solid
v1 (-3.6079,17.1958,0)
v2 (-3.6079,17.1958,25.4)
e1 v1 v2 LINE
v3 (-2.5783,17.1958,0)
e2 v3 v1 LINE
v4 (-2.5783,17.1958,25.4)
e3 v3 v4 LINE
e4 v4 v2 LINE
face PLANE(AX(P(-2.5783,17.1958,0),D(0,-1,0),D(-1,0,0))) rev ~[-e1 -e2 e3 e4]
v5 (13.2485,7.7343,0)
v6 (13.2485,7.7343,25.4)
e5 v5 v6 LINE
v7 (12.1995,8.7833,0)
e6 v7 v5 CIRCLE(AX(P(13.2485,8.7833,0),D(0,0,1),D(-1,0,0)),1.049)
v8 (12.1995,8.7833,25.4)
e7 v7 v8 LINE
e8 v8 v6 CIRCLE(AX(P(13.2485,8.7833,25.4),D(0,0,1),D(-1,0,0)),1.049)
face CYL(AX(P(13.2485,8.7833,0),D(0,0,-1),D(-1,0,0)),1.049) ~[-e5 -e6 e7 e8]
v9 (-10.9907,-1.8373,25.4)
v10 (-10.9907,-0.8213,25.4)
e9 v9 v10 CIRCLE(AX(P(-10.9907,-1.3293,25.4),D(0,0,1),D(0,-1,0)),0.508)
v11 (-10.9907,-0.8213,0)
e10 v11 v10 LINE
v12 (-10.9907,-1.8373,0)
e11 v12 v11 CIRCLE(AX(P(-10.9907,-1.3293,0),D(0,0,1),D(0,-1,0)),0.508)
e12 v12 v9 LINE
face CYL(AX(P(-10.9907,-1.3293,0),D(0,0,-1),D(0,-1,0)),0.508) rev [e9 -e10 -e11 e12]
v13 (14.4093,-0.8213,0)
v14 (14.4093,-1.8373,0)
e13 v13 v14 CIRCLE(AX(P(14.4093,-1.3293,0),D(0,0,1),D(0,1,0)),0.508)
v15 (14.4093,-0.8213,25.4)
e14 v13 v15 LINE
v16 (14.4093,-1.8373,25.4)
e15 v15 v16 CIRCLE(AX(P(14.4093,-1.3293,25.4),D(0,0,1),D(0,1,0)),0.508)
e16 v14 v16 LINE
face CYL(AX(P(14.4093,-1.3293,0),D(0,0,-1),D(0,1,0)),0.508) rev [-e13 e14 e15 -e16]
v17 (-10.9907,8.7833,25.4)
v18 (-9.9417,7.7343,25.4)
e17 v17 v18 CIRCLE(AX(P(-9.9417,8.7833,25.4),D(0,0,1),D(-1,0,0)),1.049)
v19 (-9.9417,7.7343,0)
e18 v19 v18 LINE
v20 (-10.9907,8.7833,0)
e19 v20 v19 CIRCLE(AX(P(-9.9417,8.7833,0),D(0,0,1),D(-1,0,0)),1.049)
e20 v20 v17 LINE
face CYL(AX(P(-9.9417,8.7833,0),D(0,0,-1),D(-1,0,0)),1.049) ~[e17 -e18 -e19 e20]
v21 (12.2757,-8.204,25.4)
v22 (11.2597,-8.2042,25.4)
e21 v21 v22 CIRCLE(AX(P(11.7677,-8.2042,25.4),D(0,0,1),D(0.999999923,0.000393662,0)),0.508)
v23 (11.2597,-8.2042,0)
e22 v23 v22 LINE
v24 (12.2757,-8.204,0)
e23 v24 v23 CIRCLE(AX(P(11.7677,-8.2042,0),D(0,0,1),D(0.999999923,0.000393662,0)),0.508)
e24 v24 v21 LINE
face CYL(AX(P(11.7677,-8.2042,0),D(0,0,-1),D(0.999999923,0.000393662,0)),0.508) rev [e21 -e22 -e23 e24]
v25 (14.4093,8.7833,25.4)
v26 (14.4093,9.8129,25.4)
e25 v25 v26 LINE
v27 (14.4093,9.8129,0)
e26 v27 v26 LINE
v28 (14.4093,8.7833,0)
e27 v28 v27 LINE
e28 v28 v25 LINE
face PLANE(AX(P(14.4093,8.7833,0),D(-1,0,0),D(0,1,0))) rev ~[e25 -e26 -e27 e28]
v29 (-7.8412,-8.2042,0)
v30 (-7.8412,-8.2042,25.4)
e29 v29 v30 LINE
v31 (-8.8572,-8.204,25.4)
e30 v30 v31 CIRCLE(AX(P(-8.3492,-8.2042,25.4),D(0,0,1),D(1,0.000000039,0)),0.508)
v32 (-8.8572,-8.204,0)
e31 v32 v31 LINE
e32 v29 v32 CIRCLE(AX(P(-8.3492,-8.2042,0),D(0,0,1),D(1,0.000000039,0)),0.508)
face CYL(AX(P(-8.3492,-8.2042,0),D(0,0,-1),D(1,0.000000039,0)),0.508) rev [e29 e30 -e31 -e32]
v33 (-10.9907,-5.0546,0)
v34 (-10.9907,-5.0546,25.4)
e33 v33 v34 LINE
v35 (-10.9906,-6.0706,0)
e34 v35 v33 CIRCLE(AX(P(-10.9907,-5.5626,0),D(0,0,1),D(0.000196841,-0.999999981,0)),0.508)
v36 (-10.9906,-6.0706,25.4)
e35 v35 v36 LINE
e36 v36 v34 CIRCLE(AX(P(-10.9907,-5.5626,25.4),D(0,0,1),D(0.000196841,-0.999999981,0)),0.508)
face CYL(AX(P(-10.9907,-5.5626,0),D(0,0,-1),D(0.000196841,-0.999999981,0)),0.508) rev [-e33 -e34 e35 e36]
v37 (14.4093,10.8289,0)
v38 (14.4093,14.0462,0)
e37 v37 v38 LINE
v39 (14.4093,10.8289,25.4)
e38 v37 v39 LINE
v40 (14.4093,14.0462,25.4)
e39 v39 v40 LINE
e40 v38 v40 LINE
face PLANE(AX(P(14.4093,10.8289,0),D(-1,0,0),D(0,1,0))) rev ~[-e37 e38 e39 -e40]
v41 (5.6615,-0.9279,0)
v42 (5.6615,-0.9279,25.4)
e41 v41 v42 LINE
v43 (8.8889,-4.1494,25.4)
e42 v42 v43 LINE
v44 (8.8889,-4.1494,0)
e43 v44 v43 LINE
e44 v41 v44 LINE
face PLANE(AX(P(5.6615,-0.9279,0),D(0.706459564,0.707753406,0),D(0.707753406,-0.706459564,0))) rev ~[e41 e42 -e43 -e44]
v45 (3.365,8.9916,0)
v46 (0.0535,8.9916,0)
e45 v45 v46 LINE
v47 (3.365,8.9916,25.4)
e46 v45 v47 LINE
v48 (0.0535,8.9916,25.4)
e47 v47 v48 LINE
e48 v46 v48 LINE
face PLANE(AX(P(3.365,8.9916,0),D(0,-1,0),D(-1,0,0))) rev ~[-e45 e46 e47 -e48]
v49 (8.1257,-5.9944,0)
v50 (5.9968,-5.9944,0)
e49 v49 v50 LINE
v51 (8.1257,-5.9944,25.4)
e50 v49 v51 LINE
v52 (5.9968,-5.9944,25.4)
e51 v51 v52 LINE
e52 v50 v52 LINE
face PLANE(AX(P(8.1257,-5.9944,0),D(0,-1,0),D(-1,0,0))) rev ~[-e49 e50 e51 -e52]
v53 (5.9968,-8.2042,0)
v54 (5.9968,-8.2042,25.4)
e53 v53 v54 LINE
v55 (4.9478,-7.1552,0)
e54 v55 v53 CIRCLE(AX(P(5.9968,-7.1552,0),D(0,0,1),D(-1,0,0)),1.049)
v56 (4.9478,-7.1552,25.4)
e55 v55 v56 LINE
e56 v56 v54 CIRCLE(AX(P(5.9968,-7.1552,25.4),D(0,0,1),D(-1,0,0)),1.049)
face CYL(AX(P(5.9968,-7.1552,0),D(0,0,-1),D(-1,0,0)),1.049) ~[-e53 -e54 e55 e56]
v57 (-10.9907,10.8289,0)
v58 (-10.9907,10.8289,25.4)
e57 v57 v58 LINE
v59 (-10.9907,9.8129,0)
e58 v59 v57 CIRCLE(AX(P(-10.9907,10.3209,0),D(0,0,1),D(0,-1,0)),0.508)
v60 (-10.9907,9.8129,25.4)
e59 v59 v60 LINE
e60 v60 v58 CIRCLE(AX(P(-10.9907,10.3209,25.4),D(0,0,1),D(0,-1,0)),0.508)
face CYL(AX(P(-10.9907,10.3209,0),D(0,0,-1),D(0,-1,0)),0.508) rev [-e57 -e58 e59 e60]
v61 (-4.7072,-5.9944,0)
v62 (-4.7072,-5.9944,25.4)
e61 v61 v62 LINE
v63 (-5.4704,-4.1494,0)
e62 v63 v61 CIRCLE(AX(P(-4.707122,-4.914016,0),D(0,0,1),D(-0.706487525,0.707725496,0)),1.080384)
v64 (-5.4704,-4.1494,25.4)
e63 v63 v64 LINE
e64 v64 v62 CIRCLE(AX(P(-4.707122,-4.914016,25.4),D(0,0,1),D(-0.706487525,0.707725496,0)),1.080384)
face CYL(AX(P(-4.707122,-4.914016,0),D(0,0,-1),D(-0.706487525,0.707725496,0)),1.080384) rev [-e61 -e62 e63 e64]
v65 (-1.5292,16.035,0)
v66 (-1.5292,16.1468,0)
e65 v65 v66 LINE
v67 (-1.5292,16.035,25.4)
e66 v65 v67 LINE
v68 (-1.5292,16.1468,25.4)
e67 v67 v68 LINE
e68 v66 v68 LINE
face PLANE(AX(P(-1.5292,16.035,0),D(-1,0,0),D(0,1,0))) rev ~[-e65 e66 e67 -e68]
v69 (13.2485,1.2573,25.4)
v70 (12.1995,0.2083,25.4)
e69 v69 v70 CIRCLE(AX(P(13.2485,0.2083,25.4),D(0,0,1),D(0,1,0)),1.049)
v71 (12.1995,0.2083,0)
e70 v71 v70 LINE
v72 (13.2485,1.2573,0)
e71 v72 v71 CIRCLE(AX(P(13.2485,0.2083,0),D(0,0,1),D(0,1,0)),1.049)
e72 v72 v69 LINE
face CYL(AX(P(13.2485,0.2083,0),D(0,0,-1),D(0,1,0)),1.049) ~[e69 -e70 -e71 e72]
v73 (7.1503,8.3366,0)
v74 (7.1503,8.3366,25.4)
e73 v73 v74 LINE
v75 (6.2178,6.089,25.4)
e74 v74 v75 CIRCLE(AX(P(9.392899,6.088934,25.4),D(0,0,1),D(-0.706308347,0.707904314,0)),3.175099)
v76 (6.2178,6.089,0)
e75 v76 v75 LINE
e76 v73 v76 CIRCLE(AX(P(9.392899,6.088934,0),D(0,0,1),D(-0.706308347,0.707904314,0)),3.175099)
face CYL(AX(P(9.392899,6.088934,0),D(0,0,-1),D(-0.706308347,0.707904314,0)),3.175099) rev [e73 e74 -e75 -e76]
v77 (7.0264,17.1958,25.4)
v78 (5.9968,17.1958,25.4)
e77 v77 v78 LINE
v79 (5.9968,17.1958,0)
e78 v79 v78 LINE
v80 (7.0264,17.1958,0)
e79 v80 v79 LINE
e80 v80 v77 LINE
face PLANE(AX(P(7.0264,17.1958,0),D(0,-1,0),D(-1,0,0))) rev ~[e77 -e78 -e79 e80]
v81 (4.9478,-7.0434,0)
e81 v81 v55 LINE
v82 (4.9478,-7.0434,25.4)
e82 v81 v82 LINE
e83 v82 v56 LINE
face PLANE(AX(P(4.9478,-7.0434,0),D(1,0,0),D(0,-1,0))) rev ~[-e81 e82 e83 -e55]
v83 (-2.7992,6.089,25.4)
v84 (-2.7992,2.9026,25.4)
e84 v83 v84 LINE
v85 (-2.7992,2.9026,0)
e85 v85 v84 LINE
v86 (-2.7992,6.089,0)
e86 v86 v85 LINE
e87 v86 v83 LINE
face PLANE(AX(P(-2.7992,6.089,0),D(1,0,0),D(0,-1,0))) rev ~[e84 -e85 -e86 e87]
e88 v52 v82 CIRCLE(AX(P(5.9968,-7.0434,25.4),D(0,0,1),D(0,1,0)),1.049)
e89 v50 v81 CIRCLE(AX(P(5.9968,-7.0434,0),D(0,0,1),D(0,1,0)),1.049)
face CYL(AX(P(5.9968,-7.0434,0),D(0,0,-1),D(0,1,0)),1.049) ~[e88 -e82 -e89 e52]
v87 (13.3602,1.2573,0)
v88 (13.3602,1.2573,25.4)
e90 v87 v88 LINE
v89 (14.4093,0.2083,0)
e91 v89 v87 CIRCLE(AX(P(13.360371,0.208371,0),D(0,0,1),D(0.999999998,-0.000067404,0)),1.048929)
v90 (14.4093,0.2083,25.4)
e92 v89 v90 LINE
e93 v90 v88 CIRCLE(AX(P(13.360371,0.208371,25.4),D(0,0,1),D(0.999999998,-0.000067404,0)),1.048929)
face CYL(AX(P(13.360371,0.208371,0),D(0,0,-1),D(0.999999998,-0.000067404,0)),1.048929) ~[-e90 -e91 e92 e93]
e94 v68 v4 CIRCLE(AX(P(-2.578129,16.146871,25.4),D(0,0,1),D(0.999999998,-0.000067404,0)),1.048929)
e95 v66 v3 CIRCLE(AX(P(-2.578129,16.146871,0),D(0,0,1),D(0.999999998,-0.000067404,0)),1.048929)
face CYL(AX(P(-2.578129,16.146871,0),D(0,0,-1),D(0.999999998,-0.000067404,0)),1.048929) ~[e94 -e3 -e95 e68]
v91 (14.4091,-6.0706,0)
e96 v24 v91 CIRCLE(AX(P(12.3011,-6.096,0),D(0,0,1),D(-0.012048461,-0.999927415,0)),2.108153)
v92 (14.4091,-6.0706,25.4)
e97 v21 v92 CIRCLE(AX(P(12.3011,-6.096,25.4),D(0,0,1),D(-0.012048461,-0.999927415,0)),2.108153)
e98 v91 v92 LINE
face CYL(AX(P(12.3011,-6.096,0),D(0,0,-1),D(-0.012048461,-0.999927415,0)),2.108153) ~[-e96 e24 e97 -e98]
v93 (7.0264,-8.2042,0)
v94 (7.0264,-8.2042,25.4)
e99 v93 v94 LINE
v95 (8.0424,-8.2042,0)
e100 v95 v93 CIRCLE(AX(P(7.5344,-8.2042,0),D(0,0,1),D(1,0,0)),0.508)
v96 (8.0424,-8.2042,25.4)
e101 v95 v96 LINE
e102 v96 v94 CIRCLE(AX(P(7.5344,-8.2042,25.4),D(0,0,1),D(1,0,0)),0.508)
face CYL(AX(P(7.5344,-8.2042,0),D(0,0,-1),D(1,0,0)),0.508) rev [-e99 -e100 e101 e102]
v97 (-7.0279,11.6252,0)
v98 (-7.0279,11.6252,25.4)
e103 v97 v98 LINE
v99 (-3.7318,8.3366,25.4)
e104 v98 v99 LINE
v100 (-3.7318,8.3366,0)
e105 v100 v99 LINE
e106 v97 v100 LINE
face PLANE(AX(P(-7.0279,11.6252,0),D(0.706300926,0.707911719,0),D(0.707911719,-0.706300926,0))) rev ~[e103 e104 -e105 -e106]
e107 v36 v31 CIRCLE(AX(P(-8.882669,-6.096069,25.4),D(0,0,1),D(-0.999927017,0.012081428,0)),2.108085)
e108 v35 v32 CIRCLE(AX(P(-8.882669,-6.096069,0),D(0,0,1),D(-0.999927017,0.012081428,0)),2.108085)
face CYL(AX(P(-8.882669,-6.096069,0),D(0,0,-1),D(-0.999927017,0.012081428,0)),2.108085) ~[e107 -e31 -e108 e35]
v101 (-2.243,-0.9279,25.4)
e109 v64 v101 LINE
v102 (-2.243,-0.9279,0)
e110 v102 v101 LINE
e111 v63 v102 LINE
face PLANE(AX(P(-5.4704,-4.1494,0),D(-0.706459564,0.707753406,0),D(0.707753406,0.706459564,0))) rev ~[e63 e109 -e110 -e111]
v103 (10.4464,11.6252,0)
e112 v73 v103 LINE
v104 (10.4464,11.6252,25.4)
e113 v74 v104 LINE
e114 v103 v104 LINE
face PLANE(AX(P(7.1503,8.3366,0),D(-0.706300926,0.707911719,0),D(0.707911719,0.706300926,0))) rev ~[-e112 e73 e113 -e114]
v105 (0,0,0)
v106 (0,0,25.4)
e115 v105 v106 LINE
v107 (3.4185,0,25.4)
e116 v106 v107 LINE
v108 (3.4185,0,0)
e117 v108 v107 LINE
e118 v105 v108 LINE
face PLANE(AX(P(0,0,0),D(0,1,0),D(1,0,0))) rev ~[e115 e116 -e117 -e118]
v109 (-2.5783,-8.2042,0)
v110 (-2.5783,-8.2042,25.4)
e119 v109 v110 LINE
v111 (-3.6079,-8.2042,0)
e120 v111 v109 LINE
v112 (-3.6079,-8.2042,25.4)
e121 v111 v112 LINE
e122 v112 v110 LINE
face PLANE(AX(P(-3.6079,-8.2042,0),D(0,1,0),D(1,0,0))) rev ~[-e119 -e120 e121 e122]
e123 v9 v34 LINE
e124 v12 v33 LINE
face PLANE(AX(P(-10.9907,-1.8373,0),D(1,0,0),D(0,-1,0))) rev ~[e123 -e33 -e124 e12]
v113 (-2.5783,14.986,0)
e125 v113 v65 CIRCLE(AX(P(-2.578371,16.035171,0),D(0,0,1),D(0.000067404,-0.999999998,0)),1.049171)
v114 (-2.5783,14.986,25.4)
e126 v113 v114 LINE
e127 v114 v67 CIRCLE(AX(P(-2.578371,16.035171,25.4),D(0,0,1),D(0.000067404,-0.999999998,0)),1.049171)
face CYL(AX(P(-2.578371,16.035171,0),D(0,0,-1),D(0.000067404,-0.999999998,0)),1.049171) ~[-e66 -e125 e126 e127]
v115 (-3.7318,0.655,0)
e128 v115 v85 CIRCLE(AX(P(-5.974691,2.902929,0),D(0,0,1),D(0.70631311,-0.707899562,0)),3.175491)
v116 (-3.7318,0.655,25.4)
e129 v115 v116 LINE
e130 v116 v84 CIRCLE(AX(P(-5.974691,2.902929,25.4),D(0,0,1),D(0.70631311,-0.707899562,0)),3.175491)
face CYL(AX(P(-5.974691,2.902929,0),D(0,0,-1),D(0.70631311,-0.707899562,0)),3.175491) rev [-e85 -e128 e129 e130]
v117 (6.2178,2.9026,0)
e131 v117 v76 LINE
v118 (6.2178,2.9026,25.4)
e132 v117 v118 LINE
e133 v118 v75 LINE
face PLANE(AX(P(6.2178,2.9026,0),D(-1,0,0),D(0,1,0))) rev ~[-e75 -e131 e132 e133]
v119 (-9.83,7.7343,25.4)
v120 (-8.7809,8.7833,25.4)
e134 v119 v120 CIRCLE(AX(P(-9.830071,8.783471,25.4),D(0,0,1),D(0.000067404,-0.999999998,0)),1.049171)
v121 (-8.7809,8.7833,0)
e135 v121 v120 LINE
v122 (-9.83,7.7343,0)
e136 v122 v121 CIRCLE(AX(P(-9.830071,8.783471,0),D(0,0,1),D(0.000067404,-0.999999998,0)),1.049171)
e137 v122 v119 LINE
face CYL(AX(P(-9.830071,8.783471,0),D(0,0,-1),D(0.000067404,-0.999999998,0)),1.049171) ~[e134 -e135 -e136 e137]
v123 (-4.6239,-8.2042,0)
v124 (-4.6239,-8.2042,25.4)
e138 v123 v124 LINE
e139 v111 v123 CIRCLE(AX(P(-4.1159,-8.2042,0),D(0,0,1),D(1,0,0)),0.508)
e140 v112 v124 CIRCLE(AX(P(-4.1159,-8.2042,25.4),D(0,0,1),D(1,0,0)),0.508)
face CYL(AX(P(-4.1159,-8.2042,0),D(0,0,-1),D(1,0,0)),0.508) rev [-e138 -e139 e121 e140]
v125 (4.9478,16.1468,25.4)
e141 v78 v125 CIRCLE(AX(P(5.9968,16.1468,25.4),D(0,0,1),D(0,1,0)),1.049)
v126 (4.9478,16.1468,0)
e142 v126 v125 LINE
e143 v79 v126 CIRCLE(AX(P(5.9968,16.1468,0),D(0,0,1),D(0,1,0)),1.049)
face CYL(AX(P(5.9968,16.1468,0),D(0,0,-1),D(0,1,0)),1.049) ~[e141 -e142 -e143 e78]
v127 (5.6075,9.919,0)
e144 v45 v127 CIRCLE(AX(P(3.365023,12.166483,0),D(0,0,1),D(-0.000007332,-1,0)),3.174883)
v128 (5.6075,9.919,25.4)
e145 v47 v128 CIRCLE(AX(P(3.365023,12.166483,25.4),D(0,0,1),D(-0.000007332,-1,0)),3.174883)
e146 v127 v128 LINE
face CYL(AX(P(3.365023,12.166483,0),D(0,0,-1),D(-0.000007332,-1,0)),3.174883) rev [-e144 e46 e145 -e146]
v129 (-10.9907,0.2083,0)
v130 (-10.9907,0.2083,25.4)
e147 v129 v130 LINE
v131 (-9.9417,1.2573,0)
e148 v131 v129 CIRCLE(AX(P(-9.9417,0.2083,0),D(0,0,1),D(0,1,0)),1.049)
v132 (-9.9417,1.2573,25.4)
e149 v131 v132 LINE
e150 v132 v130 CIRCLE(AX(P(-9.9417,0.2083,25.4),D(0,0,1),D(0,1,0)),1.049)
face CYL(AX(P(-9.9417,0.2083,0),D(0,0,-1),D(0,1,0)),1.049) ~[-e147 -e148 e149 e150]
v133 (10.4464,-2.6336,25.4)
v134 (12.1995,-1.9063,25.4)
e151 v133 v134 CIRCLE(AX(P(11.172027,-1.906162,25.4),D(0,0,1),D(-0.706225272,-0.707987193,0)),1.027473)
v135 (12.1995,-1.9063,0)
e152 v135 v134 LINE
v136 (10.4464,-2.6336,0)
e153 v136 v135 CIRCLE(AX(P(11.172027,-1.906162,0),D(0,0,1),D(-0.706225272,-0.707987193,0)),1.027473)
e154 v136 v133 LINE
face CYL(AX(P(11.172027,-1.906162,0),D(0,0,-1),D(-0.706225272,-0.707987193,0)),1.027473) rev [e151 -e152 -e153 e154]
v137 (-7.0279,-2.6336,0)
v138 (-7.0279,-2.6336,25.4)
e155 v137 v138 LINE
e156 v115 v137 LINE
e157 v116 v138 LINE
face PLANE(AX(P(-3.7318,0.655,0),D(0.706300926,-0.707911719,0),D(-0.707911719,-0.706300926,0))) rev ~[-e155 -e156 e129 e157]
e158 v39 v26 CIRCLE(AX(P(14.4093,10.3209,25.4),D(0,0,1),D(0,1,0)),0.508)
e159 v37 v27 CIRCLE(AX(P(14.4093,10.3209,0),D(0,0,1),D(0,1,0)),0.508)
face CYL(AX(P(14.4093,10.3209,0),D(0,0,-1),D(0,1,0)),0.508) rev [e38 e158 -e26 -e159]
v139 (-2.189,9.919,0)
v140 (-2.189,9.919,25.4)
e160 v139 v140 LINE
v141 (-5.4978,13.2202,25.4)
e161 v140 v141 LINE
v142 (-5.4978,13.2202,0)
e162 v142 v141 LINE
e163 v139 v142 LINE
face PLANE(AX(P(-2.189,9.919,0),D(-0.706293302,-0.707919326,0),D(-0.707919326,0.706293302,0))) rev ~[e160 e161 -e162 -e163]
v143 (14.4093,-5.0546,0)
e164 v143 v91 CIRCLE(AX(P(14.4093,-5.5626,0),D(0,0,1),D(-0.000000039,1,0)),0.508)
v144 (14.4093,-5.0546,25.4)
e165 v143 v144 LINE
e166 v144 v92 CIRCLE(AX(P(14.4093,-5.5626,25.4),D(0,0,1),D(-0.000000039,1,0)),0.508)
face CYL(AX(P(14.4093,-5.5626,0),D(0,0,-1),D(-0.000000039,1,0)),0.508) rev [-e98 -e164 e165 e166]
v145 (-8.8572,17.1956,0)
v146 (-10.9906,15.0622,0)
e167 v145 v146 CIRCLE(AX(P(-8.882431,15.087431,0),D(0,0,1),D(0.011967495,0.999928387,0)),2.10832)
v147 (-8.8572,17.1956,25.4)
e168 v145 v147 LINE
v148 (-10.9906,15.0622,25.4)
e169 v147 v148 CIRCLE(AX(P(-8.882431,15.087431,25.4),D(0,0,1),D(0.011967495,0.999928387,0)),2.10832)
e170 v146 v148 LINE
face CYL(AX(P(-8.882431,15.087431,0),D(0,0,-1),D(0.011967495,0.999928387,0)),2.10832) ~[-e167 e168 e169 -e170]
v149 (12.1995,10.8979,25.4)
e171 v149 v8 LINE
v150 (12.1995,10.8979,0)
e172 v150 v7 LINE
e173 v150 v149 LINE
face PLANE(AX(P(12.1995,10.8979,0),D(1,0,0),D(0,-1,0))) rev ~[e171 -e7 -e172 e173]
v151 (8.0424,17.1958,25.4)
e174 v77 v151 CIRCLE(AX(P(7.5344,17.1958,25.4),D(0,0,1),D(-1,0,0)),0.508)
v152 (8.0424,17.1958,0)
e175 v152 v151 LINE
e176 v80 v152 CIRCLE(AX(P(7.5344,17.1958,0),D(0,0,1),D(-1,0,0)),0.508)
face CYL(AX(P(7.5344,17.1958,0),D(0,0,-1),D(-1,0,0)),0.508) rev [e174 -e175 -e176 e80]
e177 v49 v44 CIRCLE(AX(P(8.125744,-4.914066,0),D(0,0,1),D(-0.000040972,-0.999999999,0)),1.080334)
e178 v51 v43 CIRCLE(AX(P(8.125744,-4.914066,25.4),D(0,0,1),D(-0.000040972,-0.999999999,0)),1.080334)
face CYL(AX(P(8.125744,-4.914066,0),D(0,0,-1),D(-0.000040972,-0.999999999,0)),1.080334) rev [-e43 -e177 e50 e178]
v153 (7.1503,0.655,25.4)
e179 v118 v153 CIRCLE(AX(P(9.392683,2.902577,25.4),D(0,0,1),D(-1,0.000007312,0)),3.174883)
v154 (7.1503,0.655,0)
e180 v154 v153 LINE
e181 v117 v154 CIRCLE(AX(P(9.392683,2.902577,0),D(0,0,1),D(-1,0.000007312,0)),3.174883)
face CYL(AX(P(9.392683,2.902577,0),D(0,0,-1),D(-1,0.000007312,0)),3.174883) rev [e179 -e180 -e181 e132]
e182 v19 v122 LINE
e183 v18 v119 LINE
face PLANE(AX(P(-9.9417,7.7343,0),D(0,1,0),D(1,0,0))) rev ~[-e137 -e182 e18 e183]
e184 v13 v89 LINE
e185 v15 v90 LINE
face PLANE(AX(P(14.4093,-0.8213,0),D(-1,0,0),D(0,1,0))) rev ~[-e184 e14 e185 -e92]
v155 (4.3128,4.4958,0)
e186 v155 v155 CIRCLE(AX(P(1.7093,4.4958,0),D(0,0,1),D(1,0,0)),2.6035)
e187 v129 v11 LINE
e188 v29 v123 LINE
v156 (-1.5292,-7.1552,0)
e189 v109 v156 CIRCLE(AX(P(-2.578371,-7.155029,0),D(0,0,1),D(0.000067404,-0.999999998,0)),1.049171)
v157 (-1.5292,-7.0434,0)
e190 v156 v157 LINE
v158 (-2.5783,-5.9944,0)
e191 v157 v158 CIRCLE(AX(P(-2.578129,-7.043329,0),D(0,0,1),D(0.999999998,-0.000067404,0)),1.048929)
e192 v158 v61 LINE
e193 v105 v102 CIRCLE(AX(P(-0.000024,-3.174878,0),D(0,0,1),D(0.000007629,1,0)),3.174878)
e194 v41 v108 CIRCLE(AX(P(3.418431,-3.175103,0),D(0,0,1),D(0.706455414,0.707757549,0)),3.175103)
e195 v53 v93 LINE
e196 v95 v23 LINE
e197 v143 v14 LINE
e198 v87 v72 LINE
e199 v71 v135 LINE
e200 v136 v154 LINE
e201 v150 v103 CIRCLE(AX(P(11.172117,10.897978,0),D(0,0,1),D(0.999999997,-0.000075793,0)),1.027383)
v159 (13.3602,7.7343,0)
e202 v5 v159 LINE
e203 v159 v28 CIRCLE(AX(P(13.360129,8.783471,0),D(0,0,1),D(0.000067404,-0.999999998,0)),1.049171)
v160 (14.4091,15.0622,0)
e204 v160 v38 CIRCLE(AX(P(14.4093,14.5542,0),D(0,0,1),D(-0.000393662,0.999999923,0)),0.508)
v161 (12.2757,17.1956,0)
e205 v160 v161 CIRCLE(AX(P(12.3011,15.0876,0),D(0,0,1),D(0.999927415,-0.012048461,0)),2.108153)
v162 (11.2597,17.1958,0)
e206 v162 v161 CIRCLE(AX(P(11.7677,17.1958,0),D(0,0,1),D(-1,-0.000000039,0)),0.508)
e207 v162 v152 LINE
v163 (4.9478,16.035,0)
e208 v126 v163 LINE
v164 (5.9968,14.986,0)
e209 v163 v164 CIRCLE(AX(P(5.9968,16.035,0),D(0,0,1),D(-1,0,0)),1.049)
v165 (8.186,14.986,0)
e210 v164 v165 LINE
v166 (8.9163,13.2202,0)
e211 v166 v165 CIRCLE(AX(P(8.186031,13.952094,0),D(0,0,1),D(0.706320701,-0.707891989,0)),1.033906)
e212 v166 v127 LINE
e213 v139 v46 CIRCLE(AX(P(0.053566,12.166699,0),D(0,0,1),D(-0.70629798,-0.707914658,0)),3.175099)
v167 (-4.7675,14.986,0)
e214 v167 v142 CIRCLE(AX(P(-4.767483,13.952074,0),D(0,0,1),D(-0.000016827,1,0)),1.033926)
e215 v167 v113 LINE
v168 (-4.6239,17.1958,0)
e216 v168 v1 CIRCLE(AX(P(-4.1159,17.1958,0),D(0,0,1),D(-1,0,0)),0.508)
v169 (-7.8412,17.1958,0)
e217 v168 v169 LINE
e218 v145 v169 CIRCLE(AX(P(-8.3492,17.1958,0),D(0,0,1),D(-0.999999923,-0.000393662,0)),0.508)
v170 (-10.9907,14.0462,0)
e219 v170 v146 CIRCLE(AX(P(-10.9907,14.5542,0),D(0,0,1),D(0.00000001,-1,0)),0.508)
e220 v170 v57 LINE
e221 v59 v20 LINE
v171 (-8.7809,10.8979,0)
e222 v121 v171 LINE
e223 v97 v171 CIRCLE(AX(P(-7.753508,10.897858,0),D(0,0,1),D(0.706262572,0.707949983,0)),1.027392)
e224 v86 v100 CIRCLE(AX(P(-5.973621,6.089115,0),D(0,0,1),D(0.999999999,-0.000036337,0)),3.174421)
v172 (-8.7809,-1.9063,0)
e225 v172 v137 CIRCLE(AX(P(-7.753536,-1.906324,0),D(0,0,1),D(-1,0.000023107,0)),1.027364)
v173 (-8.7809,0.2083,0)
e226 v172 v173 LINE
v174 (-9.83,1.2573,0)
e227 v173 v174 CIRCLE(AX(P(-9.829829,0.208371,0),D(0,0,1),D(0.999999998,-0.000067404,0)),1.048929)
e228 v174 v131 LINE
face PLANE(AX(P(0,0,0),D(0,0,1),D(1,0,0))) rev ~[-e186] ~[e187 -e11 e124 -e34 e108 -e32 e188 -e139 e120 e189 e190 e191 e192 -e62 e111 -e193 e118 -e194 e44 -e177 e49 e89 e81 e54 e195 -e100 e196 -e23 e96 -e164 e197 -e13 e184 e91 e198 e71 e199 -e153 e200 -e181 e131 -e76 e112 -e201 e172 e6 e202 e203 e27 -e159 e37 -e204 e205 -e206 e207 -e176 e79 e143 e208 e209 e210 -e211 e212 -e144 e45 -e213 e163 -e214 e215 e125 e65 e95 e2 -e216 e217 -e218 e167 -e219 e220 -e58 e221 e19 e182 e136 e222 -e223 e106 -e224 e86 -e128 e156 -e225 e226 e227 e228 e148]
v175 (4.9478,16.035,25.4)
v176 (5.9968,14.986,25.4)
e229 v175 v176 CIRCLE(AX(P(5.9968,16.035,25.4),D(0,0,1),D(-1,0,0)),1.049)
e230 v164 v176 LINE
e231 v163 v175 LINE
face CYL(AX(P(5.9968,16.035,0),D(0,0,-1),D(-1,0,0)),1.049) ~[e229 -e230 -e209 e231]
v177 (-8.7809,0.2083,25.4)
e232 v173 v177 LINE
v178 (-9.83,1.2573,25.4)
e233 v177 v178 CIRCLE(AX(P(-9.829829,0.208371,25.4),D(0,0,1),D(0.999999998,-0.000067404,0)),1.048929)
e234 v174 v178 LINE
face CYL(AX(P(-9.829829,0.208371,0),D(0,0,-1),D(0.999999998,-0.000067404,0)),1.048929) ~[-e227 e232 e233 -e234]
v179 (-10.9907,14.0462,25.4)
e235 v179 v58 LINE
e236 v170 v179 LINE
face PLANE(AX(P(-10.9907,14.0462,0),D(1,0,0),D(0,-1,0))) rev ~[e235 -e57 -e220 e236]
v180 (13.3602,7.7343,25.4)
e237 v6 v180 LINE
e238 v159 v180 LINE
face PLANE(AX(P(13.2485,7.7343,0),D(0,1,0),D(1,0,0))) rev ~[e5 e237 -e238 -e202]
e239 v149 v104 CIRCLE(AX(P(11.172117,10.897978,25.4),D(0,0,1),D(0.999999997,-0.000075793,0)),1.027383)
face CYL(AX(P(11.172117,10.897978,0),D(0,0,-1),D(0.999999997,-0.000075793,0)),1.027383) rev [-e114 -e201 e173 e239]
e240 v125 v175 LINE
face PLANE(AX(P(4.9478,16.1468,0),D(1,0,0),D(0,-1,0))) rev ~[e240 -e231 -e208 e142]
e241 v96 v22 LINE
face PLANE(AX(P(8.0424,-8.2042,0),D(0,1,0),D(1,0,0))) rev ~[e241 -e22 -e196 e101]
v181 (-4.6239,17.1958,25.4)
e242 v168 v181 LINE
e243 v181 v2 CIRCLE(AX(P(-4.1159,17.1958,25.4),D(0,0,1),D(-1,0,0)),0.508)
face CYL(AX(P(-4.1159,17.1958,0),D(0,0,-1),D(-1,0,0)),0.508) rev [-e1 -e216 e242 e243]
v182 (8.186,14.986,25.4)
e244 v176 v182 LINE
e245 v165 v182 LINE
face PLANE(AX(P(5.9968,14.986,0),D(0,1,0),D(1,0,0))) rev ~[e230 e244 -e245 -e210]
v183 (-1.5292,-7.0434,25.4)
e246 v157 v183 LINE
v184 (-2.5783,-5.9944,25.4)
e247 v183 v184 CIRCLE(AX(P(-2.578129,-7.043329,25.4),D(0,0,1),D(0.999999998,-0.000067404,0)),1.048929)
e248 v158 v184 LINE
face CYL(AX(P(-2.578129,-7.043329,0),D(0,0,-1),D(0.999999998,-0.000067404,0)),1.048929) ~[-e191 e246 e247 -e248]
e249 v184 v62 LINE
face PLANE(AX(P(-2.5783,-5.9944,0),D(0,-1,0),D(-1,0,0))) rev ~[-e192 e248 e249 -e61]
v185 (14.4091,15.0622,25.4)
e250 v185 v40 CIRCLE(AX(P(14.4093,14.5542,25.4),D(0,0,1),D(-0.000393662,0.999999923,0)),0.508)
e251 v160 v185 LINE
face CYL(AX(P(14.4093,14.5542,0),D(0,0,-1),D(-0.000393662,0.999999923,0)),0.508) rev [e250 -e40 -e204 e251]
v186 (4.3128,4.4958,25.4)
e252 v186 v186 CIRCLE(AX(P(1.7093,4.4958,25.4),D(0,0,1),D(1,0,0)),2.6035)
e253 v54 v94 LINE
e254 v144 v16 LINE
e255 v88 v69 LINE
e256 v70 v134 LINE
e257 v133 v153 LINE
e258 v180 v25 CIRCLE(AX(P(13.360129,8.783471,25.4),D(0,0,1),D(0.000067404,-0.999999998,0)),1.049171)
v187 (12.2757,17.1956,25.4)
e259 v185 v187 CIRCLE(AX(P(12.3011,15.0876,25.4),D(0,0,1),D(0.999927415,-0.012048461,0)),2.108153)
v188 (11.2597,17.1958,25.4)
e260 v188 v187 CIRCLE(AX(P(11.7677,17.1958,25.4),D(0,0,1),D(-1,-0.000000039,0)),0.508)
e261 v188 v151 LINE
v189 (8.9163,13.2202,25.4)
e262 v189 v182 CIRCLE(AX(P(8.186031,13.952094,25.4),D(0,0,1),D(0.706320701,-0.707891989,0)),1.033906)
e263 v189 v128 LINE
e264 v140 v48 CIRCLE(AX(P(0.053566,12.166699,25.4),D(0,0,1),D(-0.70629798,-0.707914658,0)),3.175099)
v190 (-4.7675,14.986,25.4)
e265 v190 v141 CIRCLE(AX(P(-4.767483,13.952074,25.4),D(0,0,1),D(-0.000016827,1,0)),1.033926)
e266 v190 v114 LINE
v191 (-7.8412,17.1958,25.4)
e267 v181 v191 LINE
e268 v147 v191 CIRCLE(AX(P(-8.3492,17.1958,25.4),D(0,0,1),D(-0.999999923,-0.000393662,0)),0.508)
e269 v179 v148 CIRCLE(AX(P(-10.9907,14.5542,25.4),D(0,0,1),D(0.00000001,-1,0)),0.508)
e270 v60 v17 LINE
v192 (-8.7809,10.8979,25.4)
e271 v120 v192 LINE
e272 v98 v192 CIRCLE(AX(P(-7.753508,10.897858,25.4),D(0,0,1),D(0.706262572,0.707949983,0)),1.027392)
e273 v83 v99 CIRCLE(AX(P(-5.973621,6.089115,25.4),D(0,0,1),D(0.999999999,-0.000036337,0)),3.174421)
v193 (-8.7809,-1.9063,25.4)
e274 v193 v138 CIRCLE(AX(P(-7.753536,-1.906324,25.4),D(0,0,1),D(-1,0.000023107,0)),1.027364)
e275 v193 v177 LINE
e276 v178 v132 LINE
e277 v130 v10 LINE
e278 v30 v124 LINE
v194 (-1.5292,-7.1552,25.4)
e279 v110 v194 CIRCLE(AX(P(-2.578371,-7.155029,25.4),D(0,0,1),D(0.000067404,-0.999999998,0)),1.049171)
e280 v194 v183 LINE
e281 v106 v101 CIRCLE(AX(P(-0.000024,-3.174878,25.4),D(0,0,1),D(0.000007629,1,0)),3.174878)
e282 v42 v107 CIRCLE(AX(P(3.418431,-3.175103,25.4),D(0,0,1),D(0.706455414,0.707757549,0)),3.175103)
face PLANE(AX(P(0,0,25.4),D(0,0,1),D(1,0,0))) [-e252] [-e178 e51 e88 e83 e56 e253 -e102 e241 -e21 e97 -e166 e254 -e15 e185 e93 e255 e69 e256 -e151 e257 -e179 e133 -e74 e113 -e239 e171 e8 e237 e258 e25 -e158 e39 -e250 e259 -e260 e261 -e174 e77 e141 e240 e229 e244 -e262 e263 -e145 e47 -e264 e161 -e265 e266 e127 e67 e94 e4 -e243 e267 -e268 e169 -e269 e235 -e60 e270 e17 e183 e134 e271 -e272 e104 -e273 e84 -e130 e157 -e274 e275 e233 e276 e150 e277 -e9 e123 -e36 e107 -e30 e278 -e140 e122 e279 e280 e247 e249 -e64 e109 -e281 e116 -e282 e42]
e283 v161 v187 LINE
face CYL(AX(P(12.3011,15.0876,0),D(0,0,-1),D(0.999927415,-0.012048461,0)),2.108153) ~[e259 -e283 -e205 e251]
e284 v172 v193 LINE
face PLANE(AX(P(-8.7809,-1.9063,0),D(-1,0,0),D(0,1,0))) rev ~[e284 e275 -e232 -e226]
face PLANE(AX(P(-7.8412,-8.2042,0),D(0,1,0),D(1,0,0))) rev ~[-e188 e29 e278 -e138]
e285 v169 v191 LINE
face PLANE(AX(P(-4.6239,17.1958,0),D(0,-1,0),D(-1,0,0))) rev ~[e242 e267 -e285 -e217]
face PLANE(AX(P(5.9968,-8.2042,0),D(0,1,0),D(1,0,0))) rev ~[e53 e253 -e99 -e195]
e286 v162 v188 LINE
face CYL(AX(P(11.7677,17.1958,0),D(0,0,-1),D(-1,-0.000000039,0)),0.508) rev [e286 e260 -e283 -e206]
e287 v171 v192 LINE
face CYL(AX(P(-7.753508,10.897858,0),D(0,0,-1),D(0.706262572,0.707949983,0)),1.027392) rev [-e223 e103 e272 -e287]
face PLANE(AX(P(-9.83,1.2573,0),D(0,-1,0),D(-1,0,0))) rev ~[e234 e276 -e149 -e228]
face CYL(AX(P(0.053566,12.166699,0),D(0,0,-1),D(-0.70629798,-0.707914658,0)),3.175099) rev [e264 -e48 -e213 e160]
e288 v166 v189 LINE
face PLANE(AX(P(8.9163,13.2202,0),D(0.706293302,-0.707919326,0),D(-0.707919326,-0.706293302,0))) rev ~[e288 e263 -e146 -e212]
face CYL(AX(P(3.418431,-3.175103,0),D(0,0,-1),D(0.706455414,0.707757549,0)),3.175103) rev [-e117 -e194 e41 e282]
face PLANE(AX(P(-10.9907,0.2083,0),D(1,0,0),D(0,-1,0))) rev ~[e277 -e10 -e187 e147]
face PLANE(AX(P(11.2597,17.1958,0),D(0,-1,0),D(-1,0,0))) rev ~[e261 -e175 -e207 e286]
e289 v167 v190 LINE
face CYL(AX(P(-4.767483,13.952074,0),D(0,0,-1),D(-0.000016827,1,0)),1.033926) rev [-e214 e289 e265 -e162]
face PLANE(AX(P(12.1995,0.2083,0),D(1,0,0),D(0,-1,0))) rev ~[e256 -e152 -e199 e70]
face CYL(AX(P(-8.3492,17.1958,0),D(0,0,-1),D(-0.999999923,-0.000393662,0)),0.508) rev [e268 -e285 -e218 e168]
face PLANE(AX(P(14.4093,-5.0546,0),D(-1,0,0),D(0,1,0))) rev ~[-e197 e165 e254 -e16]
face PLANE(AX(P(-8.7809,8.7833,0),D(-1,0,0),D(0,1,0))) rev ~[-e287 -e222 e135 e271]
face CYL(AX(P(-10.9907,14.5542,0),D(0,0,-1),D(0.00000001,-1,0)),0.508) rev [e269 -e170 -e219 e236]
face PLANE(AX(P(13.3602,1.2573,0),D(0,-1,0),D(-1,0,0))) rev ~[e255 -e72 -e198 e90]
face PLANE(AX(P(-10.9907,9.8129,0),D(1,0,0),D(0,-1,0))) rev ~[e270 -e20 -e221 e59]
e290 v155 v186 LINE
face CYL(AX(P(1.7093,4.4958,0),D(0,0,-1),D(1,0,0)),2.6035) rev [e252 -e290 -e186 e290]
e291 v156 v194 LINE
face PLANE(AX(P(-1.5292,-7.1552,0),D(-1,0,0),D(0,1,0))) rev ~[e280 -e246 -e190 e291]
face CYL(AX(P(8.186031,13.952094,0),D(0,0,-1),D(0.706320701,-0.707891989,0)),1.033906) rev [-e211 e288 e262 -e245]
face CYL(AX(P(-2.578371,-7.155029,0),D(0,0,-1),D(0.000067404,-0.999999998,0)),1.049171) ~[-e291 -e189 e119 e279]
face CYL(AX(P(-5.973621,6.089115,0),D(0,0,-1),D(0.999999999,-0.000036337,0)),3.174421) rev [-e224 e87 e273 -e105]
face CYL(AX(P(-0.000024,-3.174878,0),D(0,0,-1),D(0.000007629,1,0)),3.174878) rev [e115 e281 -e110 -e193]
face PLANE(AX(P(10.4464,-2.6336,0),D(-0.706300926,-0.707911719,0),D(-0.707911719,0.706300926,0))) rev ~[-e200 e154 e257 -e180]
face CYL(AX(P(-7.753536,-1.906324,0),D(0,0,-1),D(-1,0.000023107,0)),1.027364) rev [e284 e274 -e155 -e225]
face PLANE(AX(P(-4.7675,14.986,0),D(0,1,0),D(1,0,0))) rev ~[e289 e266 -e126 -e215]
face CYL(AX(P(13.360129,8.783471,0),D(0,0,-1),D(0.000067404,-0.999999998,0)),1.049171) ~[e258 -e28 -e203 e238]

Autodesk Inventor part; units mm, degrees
ref_plane "YZ Plane" through (0, 0, 0) normal (1, 0, 0) x (0, 1, 0)
ref_plane "XZ Plane" through (0, 0, 0) normal (0, 1, 0) x (-1, 0, 0)
ref_plane "XY Plane" through (0, 0, 0) normal (0, 0, 1) x (1, 0, 0)
sketch "Sketch1" plane through (0, 0, 0) normal (0, 0, 1) x (1, 0, 0)
  arc A0 (-5.4704, -4.1494) -> (-4.7072, -5.9944) centre (-4.7072, -4.914) ccw
  line L0 (-5.4704, -4.1494) -> (-2.243, -0.9279)
  arc A1 (0, 0) -> (-2.243, -0.9279) centre (0, -3.175) ccw
  line L1 (0, 0) -> (3.4185, 0)
  arc A2 (5.6615, -0.9279) -> (3.4185, 0) centre (3.4185, -3.175) ccw
  line L2 (5.6615, -0.9279) -> (8.8889, -4.1494)
  arc A3 (8.1257, -5.9944) -> (8.8889, -4.1494) centre (8.1257, -4.914) ccw
  line L3 (8.1257, -5.9944) -> (5.9968, -5.9944)
  arc A4 (5.9968, -5.9944) -> (4.9478, -7.0434) centre (5.9968, -7.0434) ccw
  line L4 (4.9478, -7.0434) -> (4.9478, -7.1552)
  arc A5 (4.9478, -7.1552) -> (5.9968, -8.2042) centre (5.9968, -7.1552) ccw
  line L5 (5.9968, -8.2042) -> (7.0264, -8.2042)
  arc A6 (8.0424, -8.2042) -> (7.0264, -8.2042) centre (7.5344, -8.2042) ccw
  line L6 (8.0424, -8.2042) -> (11.2597, -8.2042)
  arc A7 (12.2757, -8.204) -> (11.2597, -8.2042) centre (11.7677, -8.2042) ccw
  arc A8 (12.2757, -8.204) -> (14.4091, -6.0706) centre (12.3011, -6.096) ccw
  arc A9 (14.4093, -5.0546) -> (14.4091, -6.0706) centre (14.4093, -5.5626) ccw
  line L7 (14.4093, -5.0546) -> (14.4093, -1.8373)
  arc A10 (14.4093, -0.8213) -> (14.4093, -1.8373) centre (14.4093, -1.3293) ccw
  line L8 (14.4093, -0.8213) -> (14.4093, 0.2083)
  arc A11 (14.4093, 0.2083) -> (13.3602, 1.2573) centre (13.3602, 0.2083) ccw
  line L9 (13.3602, 1.2573) -> (13.2485, 1.2573)
  arc A12 (13.2485, 1.2573) -> (12.1995, 0.2083) centre (13.2485, 0.2083) ccw
  line L10 (12.1995, 0.2083) -> (12.1995, -1.9063)
  arc A13 (10.4464, -2.6336) -> (12.1995, -1.9063) centre (11.172, -1.9063) ccw
  line L11 (10.4464, -2.6336) -> (7.1503, 0.655)
  arc A14 (6.2178, 2.9026) -> (7.1503, 0.655) centre (9.3928, 2.9026) ccw
  line L12 (6.2178, 2.9026) -> (6.2178, 6.089)
  arc A15 (7.1503, 8.3366) -> (6.2178, 6.089) centre (9.3928, 6.089) ccw
  line L13 (7.1503, 8.3366) -> (10.4464, 11.6252)
  arc A16 (12.1995, 10.8979) -> (10.4464, 11.6252) centre (11.172, 10.8979) ccw
  line L14 (12.1995, 10.8979) -> (12.1995, 8.7833)
  arc A17 (12.1995, 8.7833) -> (13.2485, 7.7343) centre (13.2485, 8.7833) ccw
  line L15 (13.2485, 7.7343) -> (13.3602, 7.7343)
  arc A18 (13.3602, 7.7343) -> (14.4093, 8.7833) centre (13.3602, 8.7833) ccw
  line L16 (14.4093, 8.7833) -> (14.4093, 9.8129)
  arc A19 (14.4093, 10.8289) -> (14.4093, 9.8129) centre (14.4093, 10.3209) ccw
  line L17 (14.4093, 10.8289) -> (14.4093, 14.0462)
  arc A20 (14.4091, 15.0622) -> (14.4093, 14.0462) centre (14.4093, 14.5542) ccw
  arc A21 (14.4091, 15.0622) -> (12.2757, 17.1956) centre (12.3011, 15.0876) ccw
  arc A22 (11.2597, 17.1958) -> (12.2757, 17.1956) centre (11.7677, 17.1958) ccw
  line L18 (11.2597, 17.1958) -> (8.0424, 17.1958)
  arc A23 (7.0264, 17.1958) -> (8.0424, 17.1958) centre (7.5344, 17.1958) ccw
  line L19 (7.0264, 17.1958) -> (5.9968, 17.1958)
  arc A24 (5.9968, 17.1958) -> (4.9478, 16.1468) centre (5.9968, 16.1468) ccw
  line L20 (4.9478, 16.1468) -> (4.9478, 16.035)
  arc A25 (4.9478, 16.035) -> (5.9968, 14.986) centre (5.9968, 16.035) ccw
  line L21 (5.9968, 14.986) -> (8.186, 14.986)
  arc A26 (8.9163, 13.2202) -> (8.186, 14.986) centre (8.186, 13.9521) ccw
  line L22 (8.9163, 13.2202) -> (5.6075, 9.919)
  arc A27 (3.365, 8.9916) -> (5.6075, 9.919) centre (3.365, 12.1666) ccw
  line L23 (3.365, 8.9916) -> (0.0535, 8.9916)
  arc A28 (-2.189, 9.919) -> (0.0535, 8.9916) centre (0.0535, 12.1666) ccw
  line L24 (-2.189, 9.919) -> (-5.4978, 13.2202)
  arc A29 (-4.7675, 14.986) -> (-5.4978, 13.2202) centre (-4.7675, 13.9521) ccw
  line L25 (-4.7675, 14.986) -> (-2.5783, 14.986)
  arc A30 (-2.5783, 14.986) -> (-1.5292, 16.035) centre (-2.5783, 16.035) ccw
  line L26 (-1.5292, 16.035) -> (-1.5292, 16.1468)
  arc A31 (-1.5292, 16.1468) -> (-2.5783, 17.1958) centre (-2.5783, 16.1468) ccw
  line L27 (-2.5783, 17.1958) -> (-3.6079, 17.1958)
  arc A32 (-4.6239, 17.1958) -> (-3.6079, 17.1958) centre (-4.1159, 17.1958) ccw
  line L28 (-4.6239, 17.1958) -> (-7.8412, 17.1958)
  arc A33 (-8.8572, 17.1956) -> (-7.8412, 17.1958) centre (-8.3492, 17.1958) ccw
  arc A34 (-8.8572, 17.1956) -> (-10.9906, 15.0622) centre (-8.8825, 15.0876) ccw
  arc A35 (-10.9907, 14.0462) -> (-10.9906, 15.0622) centre (-10.9907, 14.5542) ccw
  line L29 (-10.9907, 14.0462) -> (-10.9907, 10.8289)
  arc A36 (-10.9907, 9.8129) -> (-10.9907, 10.8289) centre (-10.9907, 10.3209) ccw
  line L30 (-10.9907, 9.8129) -> (-10.9907, 8.7833)
  arc A37 (-10.9907, 8.7833) -> (-9.9417, 7.7343) centre (-9.9417, 8.7833) ccw
  line L31 (-9.9417, 7.7343) -> (-9.83, 7.7343)
  arc A38 (-9.83, 7.7343) -> (-8.7809, 8.7833) centre (-9.83, 8.7833) ccw
  line L32 (-8.7809, 8.7833) -> (-8.7809, 10.8979)
  arc A39 (-7.0279, 11.6252) -> (-8.7809, 10.8979) centre (-7.7535, 10.8979) ccw
  line L33 (-7.0279, 11.6252) -> (-3.7318, 8.3366)
  arc A40 (-2.7992, 6.089) -> (-3.7318, 8.3366) centre (-5.9742, 6.089) ccw
  line L34 (-2.7992, 6.089) -> (-2.7992, 2.9026)
  arc A41 (-3.7318, 0.655) -> (-2.7992, 2.9026) centre (-5.9742, 2.9026) ccw
  line L35 (-3.7318, 0.655) -> (-7.0279, -2.6336)
  arc A42 (-8.7809, -1.9063) -> (-7.0279, -2.6336) centre (-7.7535, -1.9063) ccw
  line L36 (-8.7809, -1.9063) -> (-8.7809, 0.2083)
  arc A43 (-8.7809, 0.2083) -> (-9.83, 1.2573) centre (-9.83, 0.2083) ccw
  line L37 (-9.83, 1.2573) -> (-9.9417, 1.2573)
  arc A44 (-9.9417, 1.2573) -> (-10.9907, 0.2083) centre (-9.9417, 0.2083) ccw
  line L38 (-10.9907, 0.2083) -> (-10.9907, -0.8213)
  arc A45 (-10.9907, -1.8373) -> (-10.9907, -0.8213) centre (-10.9907, -1.3293) ccw
  line L39 (-10.9907, -1.8373) -> (-10.9907, -5.0546)
  arc A46 (-10.9906, -6.0706) -> (-10.9907, -5.0546) centre (-10.9907, -5.5626) ccw
  arc A47 (-10.9906, -6.0706) -> (-8.8572, -8.204) centre (-8.8825, -6.096) ccw
  arc A48 (-7.8412, -8.2042) -> (-8.8572, -8.204) centre (-8.3492, -8.2042) ccw
  line L40 (-7.8412, -8.2042) -> (-4.6239, -8.2042)
  arc A49 (-3.6079, -8.2042) -> (-4.6239, -8.2042) centre (-4.1159, -8.2042) ccw
  line L41 (-3.6079, -8.2042) -> (-2.5783, -8.2042)
  arc A50 (-2.5783, -8.2042) -> (-1.5292, -7.1552) centre (-2.5783, -7.1552) ccw
  line L42 (-1.5292, -7.1552) -> (-1.5292, -7.0434)
  arc A51 (-1.5292, -7.0434) -> (-2.5783, -5.9944) centre (-2.5783, -7.0434) ccw
  line L43 (-2.5783, -5.9944) -> (-4.7072, -5.9944)
  circle A52 centre (1.7093, 4.4958) radius 2.6035
extrude "Extrusion1" add sketch "Sketch1" along normal blind 25.4
properties part number "1in 1x1 T slot"
